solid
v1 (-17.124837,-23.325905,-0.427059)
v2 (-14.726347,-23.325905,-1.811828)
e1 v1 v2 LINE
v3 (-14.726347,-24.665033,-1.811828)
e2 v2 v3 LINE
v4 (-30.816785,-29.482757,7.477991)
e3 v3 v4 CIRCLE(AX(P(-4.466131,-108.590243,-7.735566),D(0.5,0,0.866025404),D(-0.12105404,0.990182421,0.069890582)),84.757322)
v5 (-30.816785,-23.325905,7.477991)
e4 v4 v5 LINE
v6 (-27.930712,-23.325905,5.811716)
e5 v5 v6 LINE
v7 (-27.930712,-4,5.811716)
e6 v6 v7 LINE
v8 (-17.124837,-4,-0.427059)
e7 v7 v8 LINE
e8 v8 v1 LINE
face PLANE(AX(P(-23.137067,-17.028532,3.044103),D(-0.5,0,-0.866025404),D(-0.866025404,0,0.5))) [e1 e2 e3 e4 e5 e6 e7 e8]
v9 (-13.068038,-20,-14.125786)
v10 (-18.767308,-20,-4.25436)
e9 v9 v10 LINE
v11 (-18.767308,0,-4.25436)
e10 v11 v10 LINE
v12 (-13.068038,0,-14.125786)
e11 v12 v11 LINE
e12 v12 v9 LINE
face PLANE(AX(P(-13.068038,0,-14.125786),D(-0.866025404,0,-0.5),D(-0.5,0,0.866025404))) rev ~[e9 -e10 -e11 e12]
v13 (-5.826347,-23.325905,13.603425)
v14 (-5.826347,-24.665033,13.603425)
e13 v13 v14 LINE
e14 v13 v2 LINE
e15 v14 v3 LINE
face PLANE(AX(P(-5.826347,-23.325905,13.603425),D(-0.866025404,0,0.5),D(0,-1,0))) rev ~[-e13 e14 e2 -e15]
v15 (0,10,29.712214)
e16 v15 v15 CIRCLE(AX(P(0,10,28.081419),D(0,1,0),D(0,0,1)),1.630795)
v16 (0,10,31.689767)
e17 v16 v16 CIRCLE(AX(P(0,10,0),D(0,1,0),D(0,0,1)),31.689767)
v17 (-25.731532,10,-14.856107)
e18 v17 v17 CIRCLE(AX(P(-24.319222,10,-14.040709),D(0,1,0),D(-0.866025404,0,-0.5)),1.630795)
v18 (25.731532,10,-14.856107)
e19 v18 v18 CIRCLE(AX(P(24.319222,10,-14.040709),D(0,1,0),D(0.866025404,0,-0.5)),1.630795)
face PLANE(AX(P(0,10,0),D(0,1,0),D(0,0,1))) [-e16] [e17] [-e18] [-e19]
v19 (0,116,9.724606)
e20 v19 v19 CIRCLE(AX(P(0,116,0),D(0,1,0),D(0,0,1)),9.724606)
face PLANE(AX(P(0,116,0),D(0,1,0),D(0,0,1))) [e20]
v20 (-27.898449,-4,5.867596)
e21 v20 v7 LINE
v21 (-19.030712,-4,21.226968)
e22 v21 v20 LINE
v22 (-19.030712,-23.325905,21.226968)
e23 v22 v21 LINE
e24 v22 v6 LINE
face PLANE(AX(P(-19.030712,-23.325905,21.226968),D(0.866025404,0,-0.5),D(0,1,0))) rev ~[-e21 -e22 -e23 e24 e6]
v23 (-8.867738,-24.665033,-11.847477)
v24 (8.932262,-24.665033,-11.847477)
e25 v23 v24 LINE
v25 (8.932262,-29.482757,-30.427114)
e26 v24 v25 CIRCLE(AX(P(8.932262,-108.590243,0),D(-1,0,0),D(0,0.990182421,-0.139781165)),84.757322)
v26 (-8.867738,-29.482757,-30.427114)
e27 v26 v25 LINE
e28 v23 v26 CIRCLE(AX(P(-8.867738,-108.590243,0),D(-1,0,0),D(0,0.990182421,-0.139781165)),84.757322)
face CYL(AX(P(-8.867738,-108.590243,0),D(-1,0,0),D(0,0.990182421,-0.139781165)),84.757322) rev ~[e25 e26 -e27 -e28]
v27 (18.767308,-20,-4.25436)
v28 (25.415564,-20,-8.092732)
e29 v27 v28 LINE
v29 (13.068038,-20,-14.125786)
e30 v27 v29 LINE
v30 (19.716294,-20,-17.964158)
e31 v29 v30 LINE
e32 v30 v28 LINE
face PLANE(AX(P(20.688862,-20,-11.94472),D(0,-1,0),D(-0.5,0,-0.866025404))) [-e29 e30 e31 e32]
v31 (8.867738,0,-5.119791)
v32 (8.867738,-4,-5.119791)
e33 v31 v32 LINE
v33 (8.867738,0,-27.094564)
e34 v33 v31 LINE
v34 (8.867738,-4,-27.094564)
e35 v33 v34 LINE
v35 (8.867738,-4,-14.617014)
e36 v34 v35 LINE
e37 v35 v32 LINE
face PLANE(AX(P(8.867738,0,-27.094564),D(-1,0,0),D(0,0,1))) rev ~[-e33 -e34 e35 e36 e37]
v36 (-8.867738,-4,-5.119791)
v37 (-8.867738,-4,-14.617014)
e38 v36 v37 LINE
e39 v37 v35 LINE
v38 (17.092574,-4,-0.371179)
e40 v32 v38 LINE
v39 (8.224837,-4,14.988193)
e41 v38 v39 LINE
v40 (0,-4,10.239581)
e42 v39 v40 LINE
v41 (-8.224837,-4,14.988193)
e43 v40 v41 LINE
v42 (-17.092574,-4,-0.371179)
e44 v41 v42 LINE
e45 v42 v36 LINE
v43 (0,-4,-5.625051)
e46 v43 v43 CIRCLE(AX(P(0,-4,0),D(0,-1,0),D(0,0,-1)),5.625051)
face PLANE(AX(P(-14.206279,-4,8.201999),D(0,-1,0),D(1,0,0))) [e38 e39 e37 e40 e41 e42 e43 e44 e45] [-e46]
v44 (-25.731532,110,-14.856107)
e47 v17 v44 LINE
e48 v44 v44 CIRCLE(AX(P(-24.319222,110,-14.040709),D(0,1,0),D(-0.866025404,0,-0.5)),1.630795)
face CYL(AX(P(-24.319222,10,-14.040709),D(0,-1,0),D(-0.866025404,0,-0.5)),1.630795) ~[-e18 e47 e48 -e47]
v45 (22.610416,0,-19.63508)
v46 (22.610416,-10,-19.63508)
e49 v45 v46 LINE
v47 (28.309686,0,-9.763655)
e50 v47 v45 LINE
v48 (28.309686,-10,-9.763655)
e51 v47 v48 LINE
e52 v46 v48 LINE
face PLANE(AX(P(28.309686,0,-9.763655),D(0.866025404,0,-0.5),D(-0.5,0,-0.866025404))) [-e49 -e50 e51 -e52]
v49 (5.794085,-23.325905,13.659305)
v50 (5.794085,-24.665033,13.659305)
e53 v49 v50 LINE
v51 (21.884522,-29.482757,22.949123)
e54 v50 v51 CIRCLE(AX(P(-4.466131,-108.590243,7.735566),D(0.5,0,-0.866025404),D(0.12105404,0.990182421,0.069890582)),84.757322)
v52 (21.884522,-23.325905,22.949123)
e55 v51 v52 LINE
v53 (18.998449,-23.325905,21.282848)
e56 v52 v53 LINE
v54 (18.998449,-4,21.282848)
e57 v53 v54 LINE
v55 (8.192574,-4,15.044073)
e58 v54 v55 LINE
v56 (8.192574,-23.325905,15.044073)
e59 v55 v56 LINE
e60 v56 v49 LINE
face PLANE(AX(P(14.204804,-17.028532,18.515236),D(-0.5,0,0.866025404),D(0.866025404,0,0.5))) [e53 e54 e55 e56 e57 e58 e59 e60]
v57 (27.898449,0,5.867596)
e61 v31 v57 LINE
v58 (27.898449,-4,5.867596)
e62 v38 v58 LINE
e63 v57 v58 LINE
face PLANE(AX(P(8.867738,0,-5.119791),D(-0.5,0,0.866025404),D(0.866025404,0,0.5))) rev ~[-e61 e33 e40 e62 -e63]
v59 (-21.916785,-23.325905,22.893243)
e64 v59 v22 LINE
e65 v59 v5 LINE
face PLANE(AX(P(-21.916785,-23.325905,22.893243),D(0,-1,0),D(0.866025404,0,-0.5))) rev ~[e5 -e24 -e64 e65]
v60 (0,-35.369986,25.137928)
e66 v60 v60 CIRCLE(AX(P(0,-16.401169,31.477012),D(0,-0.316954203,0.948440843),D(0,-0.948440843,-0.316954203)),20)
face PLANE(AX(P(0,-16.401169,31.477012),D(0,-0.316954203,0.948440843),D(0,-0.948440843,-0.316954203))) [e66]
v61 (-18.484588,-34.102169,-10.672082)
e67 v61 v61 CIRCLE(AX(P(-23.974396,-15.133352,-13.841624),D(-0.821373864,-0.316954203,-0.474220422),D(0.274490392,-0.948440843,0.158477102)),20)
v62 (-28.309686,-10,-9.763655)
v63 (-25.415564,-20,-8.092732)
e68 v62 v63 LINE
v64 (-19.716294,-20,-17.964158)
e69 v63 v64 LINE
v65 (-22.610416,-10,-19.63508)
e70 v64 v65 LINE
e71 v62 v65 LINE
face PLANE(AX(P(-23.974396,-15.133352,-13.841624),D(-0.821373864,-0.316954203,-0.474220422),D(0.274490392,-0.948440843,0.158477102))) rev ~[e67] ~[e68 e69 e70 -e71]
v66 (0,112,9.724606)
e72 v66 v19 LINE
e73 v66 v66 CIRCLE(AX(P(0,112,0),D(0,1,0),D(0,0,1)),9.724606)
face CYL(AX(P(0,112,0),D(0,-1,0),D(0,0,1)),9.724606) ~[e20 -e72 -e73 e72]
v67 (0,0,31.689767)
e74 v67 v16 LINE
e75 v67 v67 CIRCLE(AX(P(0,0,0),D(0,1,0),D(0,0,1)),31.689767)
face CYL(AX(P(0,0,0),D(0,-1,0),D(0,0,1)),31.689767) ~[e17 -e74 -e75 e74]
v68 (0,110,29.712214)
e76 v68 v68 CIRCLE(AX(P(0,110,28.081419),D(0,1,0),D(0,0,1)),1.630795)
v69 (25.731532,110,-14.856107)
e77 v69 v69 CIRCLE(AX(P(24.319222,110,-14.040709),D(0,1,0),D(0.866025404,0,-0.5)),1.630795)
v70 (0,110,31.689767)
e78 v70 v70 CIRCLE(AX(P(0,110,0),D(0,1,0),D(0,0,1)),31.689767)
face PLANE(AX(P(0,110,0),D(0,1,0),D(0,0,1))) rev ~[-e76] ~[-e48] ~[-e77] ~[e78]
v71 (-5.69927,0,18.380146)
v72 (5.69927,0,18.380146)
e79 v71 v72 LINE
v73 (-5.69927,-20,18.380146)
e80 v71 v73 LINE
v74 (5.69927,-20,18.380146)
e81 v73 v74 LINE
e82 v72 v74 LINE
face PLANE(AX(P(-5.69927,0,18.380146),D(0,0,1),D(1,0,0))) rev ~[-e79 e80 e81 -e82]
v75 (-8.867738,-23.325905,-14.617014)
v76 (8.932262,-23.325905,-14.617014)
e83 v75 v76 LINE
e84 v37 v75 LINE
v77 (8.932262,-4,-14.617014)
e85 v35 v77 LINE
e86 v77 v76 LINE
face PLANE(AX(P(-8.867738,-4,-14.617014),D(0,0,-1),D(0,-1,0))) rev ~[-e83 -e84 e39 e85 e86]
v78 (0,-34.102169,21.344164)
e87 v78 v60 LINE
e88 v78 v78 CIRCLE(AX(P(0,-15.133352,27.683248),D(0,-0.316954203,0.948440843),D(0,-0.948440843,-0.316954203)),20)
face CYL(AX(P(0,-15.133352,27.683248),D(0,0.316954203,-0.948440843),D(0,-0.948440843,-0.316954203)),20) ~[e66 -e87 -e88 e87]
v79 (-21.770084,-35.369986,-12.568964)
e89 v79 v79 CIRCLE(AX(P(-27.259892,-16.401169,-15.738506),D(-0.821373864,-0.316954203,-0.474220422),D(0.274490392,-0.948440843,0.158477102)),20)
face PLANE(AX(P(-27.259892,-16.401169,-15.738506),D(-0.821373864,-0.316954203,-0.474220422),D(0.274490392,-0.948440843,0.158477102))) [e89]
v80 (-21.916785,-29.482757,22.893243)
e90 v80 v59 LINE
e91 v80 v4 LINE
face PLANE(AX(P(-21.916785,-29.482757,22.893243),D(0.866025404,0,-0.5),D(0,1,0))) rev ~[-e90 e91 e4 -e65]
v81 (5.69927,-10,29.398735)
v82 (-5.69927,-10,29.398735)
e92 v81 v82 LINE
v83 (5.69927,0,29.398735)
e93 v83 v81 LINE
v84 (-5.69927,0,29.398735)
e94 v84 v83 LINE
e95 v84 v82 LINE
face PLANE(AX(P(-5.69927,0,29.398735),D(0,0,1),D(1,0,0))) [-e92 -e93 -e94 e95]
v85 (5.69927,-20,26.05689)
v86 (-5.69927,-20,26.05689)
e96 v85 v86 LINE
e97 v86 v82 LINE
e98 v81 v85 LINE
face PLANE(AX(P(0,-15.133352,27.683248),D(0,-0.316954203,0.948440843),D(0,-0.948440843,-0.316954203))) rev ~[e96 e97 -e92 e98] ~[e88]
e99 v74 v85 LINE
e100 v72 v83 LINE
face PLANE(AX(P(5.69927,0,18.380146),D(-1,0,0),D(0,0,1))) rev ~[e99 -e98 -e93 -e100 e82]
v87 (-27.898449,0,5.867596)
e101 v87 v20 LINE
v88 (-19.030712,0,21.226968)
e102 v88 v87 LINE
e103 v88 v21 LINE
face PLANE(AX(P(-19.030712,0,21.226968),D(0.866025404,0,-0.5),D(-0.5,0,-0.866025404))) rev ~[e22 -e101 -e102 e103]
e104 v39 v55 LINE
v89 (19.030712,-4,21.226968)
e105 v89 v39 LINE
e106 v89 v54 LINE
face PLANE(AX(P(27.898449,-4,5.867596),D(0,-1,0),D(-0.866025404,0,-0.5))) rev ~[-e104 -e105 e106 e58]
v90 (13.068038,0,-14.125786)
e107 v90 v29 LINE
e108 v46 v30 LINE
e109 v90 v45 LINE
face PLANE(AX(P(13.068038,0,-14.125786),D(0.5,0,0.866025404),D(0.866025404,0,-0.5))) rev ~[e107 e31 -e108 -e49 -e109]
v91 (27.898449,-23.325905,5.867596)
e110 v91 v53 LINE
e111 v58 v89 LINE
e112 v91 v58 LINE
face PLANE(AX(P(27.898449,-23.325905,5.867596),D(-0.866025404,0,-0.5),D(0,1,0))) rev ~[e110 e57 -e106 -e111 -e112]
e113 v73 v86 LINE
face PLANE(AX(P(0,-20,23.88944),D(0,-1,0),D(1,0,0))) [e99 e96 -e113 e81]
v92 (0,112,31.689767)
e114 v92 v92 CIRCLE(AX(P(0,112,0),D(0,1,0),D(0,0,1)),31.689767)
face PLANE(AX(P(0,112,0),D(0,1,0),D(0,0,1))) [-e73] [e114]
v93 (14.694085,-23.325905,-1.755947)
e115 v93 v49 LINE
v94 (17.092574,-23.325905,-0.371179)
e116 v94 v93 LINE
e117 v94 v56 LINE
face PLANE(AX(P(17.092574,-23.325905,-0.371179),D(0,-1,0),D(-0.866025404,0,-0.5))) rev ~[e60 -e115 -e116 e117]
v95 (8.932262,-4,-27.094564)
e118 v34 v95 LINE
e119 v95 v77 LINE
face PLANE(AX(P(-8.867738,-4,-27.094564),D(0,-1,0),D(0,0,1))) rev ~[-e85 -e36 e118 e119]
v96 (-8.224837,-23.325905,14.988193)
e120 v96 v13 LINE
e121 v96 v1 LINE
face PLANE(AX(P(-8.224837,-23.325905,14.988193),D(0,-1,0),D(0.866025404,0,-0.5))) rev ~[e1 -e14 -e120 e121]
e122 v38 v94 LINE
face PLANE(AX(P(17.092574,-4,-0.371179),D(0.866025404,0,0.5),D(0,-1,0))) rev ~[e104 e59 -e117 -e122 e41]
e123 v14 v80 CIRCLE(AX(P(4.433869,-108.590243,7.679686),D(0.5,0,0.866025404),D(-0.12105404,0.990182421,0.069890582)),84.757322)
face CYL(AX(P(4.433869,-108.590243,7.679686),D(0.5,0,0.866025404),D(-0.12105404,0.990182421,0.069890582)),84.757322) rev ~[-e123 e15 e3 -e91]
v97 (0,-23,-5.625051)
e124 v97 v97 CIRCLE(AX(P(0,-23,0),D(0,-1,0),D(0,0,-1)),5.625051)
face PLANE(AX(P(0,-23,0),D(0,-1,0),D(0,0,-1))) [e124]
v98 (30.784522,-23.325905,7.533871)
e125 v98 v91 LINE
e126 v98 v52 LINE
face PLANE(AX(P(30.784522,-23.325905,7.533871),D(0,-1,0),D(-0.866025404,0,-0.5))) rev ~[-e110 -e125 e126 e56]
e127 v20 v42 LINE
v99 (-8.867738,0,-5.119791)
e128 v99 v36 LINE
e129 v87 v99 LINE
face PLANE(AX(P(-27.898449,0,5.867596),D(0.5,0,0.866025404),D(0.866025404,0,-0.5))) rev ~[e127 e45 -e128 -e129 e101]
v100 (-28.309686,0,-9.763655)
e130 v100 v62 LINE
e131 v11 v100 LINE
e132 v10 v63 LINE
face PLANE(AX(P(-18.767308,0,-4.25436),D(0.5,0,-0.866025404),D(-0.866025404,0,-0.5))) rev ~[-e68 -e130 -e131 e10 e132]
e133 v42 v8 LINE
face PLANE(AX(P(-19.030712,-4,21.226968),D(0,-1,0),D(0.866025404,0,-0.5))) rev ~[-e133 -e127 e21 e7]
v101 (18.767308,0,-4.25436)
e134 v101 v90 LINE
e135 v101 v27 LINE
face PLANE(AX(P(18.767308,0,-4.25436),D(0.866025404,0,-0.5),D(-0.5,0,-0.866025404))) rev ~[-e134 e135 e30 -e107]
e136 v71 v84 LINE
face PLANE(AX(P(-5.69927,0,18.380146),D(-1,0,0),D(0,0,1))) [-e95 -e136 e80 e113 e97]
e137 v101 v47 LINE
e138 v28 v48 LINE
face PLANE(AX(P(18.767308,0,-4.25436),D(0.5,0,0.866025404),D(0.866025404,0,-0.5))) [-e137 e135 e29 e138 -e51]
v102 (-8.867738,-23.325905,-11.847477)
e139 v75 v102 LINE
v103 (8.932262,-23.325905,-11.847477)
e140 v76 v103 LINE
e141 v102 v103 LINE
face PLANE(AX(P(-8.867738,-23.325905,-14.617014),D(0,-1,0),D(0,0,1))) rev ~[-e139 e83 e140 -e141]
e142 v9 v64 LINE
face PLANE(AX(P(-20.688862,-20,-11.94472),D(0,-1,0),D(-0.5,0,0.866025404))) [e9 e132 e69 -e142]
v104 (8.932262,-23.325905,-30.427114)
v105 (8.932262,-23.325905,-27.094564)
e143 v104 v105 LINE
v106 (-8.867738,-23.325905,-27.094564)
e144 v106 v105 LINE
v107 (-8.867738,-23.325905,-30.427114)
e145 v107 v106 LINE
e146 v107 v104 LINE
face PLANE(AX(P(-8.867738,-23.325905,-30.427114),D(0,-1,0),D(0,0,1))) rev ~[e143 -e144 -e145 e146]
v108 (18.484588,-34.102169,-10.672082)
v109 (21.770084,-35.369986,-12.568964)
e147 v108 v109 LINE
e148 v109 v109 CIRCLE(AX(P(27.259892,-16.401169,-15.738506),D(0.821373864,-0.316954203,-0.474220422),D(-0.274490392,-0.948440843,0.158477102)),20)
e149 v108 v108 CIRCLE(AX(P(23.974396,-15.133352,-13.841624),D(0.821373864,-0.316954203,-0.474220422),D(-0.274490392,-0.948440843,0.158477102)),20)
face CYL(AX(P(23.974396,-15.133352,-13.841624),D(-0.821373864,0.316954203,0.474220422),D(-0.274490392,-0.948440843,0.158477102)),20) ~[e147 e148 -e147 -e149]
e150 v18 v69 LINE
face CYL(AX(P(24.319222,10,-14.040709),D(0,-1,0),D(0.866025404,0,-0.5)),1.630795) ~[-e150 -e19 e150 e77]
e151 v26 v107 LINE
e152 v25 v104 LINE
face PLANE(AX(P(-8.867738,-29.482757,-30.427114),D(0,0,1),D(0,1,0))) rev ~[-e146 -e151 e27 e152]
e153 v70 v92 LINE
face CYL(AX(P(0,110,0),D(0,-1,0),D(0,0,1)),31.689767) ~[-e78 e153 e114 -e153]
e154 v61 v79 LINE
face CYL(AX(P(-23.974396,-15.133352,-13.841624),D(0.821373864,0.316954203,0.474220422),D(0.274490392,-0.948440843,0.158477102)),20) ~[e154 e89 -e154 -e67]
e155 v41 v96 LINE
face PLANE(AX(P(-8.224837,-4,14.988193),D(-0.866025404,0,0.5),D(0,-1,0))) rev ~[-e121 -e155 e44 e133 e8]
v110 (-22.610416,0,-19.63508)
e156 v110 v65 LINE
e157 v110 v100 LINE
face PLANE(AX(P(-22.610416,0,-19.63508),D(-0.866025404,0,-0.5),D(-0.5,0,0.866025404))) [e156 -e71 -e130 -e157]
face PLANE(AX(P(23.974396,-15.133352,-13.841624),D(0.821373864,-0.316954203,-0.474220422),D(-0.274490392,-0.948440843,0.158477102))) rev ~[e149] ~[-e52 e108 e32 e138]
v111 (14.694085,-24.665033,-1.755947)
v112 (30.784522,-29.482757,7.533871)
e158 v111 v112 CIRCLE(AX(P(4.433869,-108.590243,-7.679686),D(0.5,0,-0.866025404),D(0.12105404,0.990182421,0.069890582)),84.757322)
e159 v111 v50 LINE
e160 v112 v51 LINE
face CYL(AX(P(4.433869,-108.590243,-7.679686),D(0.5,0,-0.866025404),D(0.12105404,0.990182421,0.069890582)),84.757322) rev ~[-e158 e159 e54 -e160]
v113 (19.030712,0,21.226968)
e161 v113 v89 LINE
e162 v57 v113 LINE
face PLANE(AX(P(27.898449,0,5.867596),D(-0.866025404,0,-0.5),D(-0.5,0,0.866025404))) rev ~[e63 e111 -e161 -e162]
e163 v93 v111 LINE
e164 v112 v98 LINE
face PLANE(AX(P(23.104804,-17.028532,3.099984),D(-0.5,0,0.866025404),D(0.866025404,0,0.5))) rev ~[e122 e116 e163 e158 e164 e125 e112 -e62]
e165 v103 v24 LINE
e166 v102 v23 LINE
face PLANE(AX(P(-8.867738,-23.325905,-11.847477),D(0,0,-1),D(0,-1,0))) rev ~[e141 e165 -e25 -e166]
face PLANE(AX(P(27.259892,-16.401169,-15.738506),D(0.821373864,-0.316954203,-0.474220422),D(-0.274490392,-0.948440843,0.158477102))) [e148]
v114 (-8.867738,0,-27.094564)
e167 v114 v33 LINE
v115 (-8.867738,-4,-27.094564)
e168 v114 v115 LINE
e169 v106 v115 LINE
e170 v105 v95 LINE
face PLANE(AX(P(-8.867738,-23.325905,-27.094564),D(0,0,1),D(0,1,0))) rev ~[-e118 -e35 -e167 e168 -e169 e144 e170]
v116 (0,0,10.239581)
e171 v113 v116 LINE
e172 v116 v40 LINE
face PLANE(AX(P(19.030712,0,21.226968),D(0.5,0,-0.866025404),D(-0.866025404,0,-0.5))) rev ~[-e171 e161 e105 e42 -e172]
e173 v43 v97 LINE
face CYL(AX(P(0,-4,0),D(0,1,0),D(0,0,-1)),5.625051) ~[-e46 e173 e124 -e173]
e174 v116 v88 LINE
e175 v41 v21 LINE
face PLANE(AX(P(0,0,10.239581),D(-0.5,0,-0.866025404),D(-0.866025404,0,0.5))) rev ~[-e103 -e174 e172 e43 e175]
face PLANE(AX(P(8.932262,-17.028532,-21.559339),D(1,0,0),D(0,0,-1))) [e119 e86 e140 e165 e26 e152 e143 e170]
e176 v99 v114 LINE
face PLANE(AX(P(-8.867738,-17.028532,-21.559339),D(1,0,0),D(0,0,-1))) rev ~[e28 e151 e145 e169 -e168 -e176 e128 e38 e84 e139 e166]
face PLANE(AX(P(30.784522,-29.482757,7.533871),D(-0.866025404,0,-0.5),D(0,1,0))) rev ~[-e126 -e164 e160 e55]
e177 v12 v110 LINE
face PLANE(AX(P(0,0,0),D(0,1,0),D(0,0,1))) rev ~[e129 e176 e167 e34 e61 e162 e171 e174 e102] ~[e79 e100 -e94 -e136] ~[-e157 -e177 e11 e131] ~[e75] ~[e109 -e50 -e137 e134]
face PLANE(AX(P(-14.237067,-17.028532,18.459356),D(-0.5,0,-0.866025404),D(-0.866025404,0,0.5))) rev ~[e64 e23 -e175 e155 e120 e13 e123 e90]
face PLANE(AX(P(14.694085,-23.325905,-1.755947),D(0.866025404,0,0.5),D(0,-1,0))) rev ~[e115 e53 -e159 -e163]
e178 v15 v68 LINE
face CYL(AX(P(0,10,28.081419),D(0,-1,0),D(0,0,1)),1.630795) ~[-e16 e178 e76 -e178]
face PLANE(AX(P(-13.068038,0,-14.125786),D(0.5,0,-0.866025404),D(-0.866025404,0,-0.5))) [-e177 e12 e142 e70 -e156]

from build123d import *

# Parameters (mm, degrees)
SKETCH_2_R               = 31.689767185
EXTRUDE_1_DEPTH          = 10
SKETCH_3_W               = 11.398540158
SKETCH_3_H               = 11.018588819
EXTRUDE_2_DEPTH          = 20
CUT_EXTRUDE_1_DEPTH      = 20
SKETCH_6_R               = 20
EXTRUDE_3_DEPTH          = 4
PATTERN_CIRCULAR_2_COUNT = 3
EXTRUDE_4_DEPTH          = 4
EXTRUDE_5_DEPTH          = 17.8
PATTERN_CIRCULAR_3_COUNT = 3
SKETCH_9_R               = 5.625050713
EXTRUDE_6_DEPTH          = 19
SKETCH_10_R              = 1.630795406
EXTRUDE_7_DEPTH          = 100
PATTERN_CIRCULAR_4_COUNT = 3
SKETCH_11_R              = 31.689767185
EXTRUDE_8_DEPTH          = 2
SKETCH_12_R              = 9.724605512
EXTRUDE_9_DEPTH          = 4


with BuildPart() as part:
    # 草图2 → 凸台-拉伸1 (new body)
    with BuildSketch(Plane(origin=(0, 0, 0), x_dir=(1, 0, 0), z_dir=(0, 1, 0))):
        with Locations(Location((0, 0, 0), (0, 0, 270))):
            Circle(SKETCH_2_R)
    extrude(amount=EXTRUDE_1_DEPTH)

    # 草图3 → 凸台-拉伸2 (add)
    with BuildSketch(Plane.XZ):
        with Locations((0, 23.889440414)):
            Rectangle(SKETCH_3_W, SKETCH_3_H)
    extrude_2 = extrude(amount=EXTRUDE_2_DEPTH)

    # 草图4 → 切除-拉伸1 (cut)
    with BuildSketch(Plane(origin=(5.699270079, 0, 0), x_dir=(0, 0, -1), z_dir=(1, 0, 0))):
        Polygon((-29.398734823, -10), (-26.056890095, -20), (-29.398734823, -20), align=None)
    cut_extrude_1 = extrude(amount=-CUT_EXTRUDE_1_DEPTH, mode=Mode.SUBTRACT)

    # 草图6 → 凸台-拉伸3 (add)
    with BuildSketch(Plane(origin=(0, -9.842221306, 29.451462012), x_dir=(1, 0, 0), z_dir=(0, -0.316954203171244, 0.9484408432222232))):
        with Locations(Location((0, -5.578767415, 0), (0, 0, 270))):
            Circle(SKETCH_6_R)
    extrude_3 = extrude(amount=EXTRUDE_3_DEPTH)

    # 阵列(圆周)2: 凸台-拉伸2, 切除-拉伸1, 凸台-拉伸3 ×3 about axis
    pattern_circular_2_axis = Axis((0, 0, 0), (0, 1, 0))
    add([extrude_2.rotate(pattern_circular_2_axis, i * 360 / PATTERN_CIRCULAR_2_COUNT) for i in range(1, PATTERN_CIRCULAR_2_COUNT)])
    add([cut_extrude_1.rotate(pattern_circular_2_axis, i * 360 / PATTERN_CIRCULAR_2_COUNT) for i in range(1, PATTERN_CIRCULAR_2_COUNT)], mode=Mode.SUBTRACT)
    add([extrude_3.rotate(pattern_circular_2_axis, i * 360 / PATTERN_CIRCULAR_2_COUNT) for i in range(1, PATTERN_CIRCULAR_2_COUNT)])

    # 草图7 → 凸台-拉伸4 (add)
    with BuildSketch(Plane.XZ):
        with BuildLine():
            Line((-4.433868769, 7.679685983), (0, 10.23958131))
            Line((0, 10.23958131), (-19.030711532, 21.226967736))
            Line((-19.030711532, 21.226967736), (-27.898449071, 5.86759577))
            Line((-27.898449071, 5.86759577), (-8.867737539, -5.119790655))
            Line((-8.867737539, -5.119790655), (-8.867737539, 0))
            ThreePointArc((-8.867737539, 0), (-7.679685983, 4.433868769), (-4.433868769, 7.679685983))
        make_face()
        with BuildLine():
            ThreePointArc((4.433868769, 7.679685983), (7.679685983, 4.433868769), (8.867737539, 0))
            Line((8.867737539, 0), (8.867737539, -5.119790655))
            Line((8.867737539, -5.119790655), (27.898449071, 5.86759577))
            Line((27.898449071, 5.86759577), (19.030711532, 21.226967736))
            Line((19.030711532, 21.226967736), (0, 10.23958131))
            Line((0, 10.23958131), (4.433868769, 7.679685983))
        make_face()
        with BuildLine():
            Line((8.867737539, -27.094563507), (8.867737539, -5.119790655))
            Line((8.867737539, -5.119790655), (4.433868769, -7.679685983))
            ThreePointArc((4.433868769, -7.679685983), (0, -8.867737539), (-4.433868769, -7.679685983))
            Line((-4.433868769, -7.679685983), (-8.867737539, -5.119790655))
            Line((-8.867737539, -5.119790655), (-8.867737539, -27.094563507))
            Line((-8.867737539, -27.094563507), (8.867737539, -27.094563507))
        make_face()
        with BuildLine():
            ThreePointArc((4.433868769, -7.679685983), (7.679685983, -4.433868769), (8.867737539, 0))
            ThreePointArc((8.867737539, 0), (7.679685983, 4.433868769), (4.433868769, 7.679685983))
            ThreePointArc((4.433868769, 7.679685983), (0, 8.867737539), (-4.433868769, 7.679685983))
            ThreePointArc((-4.433868769, 7.679685983), (-7.679685983, 4.433868769), (-8.867737539, 0))
            ThreePointArc((-8.867737539, 0), (-7.679685983, -4.433868769), (-4.433868769, -7.679685983))
            ThreePointArc((-4.433868769, -7.679685983), (0, -8.867737539), (4.433868769, -7.679685983))
        make_face()
        with BuildLine():
            Line((8.867737539, -5.119790655), (8.867737539, 0))
            ThreePointArc((8.867737539, 0), (7.679685983, -4.433868769), (4.433868769, -7.679685983))
            Line((4.433868769, -7.679685983), (8.867737539, -5.119790655))
        make_face()
        with BuildLine():
            Line((-8.867737539, -5.119790655), (-4.433868769, -7.679685983))
            ThreePointArc((-4.433868769, -7.679685983), (-7.679685983, -4.433868769), (-8.867737539, 0))
            Line((-8.867737539, 0), (-8.867737539, -5.119790655))
        make_face()
        with BuildLine():
            ThreePointArc((-4.433868769, 7.679685983), (0, 8.867737539), (4.433868769, 7.679685983))
            Line((4.433868769, 7.679685983), (0, 10.23958131))
            Line((0, 10.23958131), (-4.433868769, 7.679685983))
        make_face()
    extrude(amount=EXTRUDE_4_DEPTH)

    # 草图8 → 凸台-拉伸5 (add)
    with BuildSketch(Plane(origin=(4.433868769, 0, -7.679685983), x_dir=(-0.8660254037844431, 0, -0.499999999999992), z_dir=(0.49999999999999206, 0, -0.8660254037844433))):
        with BuildLine():
            Line((-30.427113752, -29.482756554), (-30.427113752, -23.325905307))
            Line((-30.427113752, -23.325905307), (-27.094563507, -23.325905307))
            Line((-27.094563507, -23.325905307), (-27.094563507, -4))
            Line((-27.094563507, -4), (-14.617014317, -4))
            Line((-14.617014317, -4), (-14.617014317, -23.325905307))
            Line((-14.617014317, -23.325905307), (-11.847477178, -23.325905307))
            Line((-11.847477178, -23.325905307), (-11.847477178, -24.665032542))
            ThreePointArc((-11.847477178, -24.665032542), (-21.274112807, -26.546256084), (-30.427113752, -29.482756554))
        make_face()
    extrude_5 = extrude(amount=-EXTRUDE_5_DEPTH)

    # 阵列(圆周)3: 凸台-拉伸5 ×3 about axis
    pattern_circular_3_axis = Axis((0, 0, 0), (0, 1, 0))
    for i in range(1, PATTERN_CIRCULAR_3_COUNT):
        add(extrude_5.rotate(pattern_circular_3_axis, i * 360 / PATTERN_CIRCULAR_3_COUNT))

    # 草图9 → 凸台-拉伸6 (add)
    with BuildSketch(Plane.XZ.offset(4)):
        with Locations(Location((0, 0, 0), (0, 0, 270))):
            Circle(SKETCH_9_R)
    extrude(amount=EXTRUDE_6_DEPTH)

    # 草图10 → 凸台-拉伸7 (add)
    with BuildSketch(Plane(origin=(0, 10, 0), x_dir=(1, 0, 0), z_dir=(0, 1, 0))):
        with Locations(Location((0, -28.081418828, 0), (0, 0, 270))):
            Circle(SKETCH_10_R)
    extrude_7 = extrude(amount=EXTRUDE_7_DEPTH)

    # 阵列(圆周)4: 凸台-拉伸7 ×3 about axis
    pattern_circular_4_axis = Axis((0, 0, 0), (0, 1, 0))
    for i in range(1, PATTERN_CIRCULAR_4_COUNT):
        add(extrude_7.rotate(pattern_circular_4_axis, i * 360 / PATTERN_CIRCULAR_4_COUNT))

    # 草图11 → 凸台-拉伸8 (add)
    with BuildSketch(Plane(origin=(0, 110, 0), x_dir=(1, 0, 0), z_dir=(0, 1, 0))):
        with Locations(Location((0, 0, 0), (0, 0, 270))):
            Circle(SKETCH_11_R)
    extrude(amount=EXTRUDE_8_DEPTH)

    # 草图12 → 凸台-拉伸9 (add)
    with BuildSketch(Plane(origin=(0, 112, 0), x_dir=(1, 0, 0), z_dir=(0, 1, 0))):
        with Locations(Location((0, 0, 0), (0, 0, 270))):
            Circle(SKETCH_12_R)
    extrude(amount=EXTRUDE_9_DEPTH)


solid = part.part
